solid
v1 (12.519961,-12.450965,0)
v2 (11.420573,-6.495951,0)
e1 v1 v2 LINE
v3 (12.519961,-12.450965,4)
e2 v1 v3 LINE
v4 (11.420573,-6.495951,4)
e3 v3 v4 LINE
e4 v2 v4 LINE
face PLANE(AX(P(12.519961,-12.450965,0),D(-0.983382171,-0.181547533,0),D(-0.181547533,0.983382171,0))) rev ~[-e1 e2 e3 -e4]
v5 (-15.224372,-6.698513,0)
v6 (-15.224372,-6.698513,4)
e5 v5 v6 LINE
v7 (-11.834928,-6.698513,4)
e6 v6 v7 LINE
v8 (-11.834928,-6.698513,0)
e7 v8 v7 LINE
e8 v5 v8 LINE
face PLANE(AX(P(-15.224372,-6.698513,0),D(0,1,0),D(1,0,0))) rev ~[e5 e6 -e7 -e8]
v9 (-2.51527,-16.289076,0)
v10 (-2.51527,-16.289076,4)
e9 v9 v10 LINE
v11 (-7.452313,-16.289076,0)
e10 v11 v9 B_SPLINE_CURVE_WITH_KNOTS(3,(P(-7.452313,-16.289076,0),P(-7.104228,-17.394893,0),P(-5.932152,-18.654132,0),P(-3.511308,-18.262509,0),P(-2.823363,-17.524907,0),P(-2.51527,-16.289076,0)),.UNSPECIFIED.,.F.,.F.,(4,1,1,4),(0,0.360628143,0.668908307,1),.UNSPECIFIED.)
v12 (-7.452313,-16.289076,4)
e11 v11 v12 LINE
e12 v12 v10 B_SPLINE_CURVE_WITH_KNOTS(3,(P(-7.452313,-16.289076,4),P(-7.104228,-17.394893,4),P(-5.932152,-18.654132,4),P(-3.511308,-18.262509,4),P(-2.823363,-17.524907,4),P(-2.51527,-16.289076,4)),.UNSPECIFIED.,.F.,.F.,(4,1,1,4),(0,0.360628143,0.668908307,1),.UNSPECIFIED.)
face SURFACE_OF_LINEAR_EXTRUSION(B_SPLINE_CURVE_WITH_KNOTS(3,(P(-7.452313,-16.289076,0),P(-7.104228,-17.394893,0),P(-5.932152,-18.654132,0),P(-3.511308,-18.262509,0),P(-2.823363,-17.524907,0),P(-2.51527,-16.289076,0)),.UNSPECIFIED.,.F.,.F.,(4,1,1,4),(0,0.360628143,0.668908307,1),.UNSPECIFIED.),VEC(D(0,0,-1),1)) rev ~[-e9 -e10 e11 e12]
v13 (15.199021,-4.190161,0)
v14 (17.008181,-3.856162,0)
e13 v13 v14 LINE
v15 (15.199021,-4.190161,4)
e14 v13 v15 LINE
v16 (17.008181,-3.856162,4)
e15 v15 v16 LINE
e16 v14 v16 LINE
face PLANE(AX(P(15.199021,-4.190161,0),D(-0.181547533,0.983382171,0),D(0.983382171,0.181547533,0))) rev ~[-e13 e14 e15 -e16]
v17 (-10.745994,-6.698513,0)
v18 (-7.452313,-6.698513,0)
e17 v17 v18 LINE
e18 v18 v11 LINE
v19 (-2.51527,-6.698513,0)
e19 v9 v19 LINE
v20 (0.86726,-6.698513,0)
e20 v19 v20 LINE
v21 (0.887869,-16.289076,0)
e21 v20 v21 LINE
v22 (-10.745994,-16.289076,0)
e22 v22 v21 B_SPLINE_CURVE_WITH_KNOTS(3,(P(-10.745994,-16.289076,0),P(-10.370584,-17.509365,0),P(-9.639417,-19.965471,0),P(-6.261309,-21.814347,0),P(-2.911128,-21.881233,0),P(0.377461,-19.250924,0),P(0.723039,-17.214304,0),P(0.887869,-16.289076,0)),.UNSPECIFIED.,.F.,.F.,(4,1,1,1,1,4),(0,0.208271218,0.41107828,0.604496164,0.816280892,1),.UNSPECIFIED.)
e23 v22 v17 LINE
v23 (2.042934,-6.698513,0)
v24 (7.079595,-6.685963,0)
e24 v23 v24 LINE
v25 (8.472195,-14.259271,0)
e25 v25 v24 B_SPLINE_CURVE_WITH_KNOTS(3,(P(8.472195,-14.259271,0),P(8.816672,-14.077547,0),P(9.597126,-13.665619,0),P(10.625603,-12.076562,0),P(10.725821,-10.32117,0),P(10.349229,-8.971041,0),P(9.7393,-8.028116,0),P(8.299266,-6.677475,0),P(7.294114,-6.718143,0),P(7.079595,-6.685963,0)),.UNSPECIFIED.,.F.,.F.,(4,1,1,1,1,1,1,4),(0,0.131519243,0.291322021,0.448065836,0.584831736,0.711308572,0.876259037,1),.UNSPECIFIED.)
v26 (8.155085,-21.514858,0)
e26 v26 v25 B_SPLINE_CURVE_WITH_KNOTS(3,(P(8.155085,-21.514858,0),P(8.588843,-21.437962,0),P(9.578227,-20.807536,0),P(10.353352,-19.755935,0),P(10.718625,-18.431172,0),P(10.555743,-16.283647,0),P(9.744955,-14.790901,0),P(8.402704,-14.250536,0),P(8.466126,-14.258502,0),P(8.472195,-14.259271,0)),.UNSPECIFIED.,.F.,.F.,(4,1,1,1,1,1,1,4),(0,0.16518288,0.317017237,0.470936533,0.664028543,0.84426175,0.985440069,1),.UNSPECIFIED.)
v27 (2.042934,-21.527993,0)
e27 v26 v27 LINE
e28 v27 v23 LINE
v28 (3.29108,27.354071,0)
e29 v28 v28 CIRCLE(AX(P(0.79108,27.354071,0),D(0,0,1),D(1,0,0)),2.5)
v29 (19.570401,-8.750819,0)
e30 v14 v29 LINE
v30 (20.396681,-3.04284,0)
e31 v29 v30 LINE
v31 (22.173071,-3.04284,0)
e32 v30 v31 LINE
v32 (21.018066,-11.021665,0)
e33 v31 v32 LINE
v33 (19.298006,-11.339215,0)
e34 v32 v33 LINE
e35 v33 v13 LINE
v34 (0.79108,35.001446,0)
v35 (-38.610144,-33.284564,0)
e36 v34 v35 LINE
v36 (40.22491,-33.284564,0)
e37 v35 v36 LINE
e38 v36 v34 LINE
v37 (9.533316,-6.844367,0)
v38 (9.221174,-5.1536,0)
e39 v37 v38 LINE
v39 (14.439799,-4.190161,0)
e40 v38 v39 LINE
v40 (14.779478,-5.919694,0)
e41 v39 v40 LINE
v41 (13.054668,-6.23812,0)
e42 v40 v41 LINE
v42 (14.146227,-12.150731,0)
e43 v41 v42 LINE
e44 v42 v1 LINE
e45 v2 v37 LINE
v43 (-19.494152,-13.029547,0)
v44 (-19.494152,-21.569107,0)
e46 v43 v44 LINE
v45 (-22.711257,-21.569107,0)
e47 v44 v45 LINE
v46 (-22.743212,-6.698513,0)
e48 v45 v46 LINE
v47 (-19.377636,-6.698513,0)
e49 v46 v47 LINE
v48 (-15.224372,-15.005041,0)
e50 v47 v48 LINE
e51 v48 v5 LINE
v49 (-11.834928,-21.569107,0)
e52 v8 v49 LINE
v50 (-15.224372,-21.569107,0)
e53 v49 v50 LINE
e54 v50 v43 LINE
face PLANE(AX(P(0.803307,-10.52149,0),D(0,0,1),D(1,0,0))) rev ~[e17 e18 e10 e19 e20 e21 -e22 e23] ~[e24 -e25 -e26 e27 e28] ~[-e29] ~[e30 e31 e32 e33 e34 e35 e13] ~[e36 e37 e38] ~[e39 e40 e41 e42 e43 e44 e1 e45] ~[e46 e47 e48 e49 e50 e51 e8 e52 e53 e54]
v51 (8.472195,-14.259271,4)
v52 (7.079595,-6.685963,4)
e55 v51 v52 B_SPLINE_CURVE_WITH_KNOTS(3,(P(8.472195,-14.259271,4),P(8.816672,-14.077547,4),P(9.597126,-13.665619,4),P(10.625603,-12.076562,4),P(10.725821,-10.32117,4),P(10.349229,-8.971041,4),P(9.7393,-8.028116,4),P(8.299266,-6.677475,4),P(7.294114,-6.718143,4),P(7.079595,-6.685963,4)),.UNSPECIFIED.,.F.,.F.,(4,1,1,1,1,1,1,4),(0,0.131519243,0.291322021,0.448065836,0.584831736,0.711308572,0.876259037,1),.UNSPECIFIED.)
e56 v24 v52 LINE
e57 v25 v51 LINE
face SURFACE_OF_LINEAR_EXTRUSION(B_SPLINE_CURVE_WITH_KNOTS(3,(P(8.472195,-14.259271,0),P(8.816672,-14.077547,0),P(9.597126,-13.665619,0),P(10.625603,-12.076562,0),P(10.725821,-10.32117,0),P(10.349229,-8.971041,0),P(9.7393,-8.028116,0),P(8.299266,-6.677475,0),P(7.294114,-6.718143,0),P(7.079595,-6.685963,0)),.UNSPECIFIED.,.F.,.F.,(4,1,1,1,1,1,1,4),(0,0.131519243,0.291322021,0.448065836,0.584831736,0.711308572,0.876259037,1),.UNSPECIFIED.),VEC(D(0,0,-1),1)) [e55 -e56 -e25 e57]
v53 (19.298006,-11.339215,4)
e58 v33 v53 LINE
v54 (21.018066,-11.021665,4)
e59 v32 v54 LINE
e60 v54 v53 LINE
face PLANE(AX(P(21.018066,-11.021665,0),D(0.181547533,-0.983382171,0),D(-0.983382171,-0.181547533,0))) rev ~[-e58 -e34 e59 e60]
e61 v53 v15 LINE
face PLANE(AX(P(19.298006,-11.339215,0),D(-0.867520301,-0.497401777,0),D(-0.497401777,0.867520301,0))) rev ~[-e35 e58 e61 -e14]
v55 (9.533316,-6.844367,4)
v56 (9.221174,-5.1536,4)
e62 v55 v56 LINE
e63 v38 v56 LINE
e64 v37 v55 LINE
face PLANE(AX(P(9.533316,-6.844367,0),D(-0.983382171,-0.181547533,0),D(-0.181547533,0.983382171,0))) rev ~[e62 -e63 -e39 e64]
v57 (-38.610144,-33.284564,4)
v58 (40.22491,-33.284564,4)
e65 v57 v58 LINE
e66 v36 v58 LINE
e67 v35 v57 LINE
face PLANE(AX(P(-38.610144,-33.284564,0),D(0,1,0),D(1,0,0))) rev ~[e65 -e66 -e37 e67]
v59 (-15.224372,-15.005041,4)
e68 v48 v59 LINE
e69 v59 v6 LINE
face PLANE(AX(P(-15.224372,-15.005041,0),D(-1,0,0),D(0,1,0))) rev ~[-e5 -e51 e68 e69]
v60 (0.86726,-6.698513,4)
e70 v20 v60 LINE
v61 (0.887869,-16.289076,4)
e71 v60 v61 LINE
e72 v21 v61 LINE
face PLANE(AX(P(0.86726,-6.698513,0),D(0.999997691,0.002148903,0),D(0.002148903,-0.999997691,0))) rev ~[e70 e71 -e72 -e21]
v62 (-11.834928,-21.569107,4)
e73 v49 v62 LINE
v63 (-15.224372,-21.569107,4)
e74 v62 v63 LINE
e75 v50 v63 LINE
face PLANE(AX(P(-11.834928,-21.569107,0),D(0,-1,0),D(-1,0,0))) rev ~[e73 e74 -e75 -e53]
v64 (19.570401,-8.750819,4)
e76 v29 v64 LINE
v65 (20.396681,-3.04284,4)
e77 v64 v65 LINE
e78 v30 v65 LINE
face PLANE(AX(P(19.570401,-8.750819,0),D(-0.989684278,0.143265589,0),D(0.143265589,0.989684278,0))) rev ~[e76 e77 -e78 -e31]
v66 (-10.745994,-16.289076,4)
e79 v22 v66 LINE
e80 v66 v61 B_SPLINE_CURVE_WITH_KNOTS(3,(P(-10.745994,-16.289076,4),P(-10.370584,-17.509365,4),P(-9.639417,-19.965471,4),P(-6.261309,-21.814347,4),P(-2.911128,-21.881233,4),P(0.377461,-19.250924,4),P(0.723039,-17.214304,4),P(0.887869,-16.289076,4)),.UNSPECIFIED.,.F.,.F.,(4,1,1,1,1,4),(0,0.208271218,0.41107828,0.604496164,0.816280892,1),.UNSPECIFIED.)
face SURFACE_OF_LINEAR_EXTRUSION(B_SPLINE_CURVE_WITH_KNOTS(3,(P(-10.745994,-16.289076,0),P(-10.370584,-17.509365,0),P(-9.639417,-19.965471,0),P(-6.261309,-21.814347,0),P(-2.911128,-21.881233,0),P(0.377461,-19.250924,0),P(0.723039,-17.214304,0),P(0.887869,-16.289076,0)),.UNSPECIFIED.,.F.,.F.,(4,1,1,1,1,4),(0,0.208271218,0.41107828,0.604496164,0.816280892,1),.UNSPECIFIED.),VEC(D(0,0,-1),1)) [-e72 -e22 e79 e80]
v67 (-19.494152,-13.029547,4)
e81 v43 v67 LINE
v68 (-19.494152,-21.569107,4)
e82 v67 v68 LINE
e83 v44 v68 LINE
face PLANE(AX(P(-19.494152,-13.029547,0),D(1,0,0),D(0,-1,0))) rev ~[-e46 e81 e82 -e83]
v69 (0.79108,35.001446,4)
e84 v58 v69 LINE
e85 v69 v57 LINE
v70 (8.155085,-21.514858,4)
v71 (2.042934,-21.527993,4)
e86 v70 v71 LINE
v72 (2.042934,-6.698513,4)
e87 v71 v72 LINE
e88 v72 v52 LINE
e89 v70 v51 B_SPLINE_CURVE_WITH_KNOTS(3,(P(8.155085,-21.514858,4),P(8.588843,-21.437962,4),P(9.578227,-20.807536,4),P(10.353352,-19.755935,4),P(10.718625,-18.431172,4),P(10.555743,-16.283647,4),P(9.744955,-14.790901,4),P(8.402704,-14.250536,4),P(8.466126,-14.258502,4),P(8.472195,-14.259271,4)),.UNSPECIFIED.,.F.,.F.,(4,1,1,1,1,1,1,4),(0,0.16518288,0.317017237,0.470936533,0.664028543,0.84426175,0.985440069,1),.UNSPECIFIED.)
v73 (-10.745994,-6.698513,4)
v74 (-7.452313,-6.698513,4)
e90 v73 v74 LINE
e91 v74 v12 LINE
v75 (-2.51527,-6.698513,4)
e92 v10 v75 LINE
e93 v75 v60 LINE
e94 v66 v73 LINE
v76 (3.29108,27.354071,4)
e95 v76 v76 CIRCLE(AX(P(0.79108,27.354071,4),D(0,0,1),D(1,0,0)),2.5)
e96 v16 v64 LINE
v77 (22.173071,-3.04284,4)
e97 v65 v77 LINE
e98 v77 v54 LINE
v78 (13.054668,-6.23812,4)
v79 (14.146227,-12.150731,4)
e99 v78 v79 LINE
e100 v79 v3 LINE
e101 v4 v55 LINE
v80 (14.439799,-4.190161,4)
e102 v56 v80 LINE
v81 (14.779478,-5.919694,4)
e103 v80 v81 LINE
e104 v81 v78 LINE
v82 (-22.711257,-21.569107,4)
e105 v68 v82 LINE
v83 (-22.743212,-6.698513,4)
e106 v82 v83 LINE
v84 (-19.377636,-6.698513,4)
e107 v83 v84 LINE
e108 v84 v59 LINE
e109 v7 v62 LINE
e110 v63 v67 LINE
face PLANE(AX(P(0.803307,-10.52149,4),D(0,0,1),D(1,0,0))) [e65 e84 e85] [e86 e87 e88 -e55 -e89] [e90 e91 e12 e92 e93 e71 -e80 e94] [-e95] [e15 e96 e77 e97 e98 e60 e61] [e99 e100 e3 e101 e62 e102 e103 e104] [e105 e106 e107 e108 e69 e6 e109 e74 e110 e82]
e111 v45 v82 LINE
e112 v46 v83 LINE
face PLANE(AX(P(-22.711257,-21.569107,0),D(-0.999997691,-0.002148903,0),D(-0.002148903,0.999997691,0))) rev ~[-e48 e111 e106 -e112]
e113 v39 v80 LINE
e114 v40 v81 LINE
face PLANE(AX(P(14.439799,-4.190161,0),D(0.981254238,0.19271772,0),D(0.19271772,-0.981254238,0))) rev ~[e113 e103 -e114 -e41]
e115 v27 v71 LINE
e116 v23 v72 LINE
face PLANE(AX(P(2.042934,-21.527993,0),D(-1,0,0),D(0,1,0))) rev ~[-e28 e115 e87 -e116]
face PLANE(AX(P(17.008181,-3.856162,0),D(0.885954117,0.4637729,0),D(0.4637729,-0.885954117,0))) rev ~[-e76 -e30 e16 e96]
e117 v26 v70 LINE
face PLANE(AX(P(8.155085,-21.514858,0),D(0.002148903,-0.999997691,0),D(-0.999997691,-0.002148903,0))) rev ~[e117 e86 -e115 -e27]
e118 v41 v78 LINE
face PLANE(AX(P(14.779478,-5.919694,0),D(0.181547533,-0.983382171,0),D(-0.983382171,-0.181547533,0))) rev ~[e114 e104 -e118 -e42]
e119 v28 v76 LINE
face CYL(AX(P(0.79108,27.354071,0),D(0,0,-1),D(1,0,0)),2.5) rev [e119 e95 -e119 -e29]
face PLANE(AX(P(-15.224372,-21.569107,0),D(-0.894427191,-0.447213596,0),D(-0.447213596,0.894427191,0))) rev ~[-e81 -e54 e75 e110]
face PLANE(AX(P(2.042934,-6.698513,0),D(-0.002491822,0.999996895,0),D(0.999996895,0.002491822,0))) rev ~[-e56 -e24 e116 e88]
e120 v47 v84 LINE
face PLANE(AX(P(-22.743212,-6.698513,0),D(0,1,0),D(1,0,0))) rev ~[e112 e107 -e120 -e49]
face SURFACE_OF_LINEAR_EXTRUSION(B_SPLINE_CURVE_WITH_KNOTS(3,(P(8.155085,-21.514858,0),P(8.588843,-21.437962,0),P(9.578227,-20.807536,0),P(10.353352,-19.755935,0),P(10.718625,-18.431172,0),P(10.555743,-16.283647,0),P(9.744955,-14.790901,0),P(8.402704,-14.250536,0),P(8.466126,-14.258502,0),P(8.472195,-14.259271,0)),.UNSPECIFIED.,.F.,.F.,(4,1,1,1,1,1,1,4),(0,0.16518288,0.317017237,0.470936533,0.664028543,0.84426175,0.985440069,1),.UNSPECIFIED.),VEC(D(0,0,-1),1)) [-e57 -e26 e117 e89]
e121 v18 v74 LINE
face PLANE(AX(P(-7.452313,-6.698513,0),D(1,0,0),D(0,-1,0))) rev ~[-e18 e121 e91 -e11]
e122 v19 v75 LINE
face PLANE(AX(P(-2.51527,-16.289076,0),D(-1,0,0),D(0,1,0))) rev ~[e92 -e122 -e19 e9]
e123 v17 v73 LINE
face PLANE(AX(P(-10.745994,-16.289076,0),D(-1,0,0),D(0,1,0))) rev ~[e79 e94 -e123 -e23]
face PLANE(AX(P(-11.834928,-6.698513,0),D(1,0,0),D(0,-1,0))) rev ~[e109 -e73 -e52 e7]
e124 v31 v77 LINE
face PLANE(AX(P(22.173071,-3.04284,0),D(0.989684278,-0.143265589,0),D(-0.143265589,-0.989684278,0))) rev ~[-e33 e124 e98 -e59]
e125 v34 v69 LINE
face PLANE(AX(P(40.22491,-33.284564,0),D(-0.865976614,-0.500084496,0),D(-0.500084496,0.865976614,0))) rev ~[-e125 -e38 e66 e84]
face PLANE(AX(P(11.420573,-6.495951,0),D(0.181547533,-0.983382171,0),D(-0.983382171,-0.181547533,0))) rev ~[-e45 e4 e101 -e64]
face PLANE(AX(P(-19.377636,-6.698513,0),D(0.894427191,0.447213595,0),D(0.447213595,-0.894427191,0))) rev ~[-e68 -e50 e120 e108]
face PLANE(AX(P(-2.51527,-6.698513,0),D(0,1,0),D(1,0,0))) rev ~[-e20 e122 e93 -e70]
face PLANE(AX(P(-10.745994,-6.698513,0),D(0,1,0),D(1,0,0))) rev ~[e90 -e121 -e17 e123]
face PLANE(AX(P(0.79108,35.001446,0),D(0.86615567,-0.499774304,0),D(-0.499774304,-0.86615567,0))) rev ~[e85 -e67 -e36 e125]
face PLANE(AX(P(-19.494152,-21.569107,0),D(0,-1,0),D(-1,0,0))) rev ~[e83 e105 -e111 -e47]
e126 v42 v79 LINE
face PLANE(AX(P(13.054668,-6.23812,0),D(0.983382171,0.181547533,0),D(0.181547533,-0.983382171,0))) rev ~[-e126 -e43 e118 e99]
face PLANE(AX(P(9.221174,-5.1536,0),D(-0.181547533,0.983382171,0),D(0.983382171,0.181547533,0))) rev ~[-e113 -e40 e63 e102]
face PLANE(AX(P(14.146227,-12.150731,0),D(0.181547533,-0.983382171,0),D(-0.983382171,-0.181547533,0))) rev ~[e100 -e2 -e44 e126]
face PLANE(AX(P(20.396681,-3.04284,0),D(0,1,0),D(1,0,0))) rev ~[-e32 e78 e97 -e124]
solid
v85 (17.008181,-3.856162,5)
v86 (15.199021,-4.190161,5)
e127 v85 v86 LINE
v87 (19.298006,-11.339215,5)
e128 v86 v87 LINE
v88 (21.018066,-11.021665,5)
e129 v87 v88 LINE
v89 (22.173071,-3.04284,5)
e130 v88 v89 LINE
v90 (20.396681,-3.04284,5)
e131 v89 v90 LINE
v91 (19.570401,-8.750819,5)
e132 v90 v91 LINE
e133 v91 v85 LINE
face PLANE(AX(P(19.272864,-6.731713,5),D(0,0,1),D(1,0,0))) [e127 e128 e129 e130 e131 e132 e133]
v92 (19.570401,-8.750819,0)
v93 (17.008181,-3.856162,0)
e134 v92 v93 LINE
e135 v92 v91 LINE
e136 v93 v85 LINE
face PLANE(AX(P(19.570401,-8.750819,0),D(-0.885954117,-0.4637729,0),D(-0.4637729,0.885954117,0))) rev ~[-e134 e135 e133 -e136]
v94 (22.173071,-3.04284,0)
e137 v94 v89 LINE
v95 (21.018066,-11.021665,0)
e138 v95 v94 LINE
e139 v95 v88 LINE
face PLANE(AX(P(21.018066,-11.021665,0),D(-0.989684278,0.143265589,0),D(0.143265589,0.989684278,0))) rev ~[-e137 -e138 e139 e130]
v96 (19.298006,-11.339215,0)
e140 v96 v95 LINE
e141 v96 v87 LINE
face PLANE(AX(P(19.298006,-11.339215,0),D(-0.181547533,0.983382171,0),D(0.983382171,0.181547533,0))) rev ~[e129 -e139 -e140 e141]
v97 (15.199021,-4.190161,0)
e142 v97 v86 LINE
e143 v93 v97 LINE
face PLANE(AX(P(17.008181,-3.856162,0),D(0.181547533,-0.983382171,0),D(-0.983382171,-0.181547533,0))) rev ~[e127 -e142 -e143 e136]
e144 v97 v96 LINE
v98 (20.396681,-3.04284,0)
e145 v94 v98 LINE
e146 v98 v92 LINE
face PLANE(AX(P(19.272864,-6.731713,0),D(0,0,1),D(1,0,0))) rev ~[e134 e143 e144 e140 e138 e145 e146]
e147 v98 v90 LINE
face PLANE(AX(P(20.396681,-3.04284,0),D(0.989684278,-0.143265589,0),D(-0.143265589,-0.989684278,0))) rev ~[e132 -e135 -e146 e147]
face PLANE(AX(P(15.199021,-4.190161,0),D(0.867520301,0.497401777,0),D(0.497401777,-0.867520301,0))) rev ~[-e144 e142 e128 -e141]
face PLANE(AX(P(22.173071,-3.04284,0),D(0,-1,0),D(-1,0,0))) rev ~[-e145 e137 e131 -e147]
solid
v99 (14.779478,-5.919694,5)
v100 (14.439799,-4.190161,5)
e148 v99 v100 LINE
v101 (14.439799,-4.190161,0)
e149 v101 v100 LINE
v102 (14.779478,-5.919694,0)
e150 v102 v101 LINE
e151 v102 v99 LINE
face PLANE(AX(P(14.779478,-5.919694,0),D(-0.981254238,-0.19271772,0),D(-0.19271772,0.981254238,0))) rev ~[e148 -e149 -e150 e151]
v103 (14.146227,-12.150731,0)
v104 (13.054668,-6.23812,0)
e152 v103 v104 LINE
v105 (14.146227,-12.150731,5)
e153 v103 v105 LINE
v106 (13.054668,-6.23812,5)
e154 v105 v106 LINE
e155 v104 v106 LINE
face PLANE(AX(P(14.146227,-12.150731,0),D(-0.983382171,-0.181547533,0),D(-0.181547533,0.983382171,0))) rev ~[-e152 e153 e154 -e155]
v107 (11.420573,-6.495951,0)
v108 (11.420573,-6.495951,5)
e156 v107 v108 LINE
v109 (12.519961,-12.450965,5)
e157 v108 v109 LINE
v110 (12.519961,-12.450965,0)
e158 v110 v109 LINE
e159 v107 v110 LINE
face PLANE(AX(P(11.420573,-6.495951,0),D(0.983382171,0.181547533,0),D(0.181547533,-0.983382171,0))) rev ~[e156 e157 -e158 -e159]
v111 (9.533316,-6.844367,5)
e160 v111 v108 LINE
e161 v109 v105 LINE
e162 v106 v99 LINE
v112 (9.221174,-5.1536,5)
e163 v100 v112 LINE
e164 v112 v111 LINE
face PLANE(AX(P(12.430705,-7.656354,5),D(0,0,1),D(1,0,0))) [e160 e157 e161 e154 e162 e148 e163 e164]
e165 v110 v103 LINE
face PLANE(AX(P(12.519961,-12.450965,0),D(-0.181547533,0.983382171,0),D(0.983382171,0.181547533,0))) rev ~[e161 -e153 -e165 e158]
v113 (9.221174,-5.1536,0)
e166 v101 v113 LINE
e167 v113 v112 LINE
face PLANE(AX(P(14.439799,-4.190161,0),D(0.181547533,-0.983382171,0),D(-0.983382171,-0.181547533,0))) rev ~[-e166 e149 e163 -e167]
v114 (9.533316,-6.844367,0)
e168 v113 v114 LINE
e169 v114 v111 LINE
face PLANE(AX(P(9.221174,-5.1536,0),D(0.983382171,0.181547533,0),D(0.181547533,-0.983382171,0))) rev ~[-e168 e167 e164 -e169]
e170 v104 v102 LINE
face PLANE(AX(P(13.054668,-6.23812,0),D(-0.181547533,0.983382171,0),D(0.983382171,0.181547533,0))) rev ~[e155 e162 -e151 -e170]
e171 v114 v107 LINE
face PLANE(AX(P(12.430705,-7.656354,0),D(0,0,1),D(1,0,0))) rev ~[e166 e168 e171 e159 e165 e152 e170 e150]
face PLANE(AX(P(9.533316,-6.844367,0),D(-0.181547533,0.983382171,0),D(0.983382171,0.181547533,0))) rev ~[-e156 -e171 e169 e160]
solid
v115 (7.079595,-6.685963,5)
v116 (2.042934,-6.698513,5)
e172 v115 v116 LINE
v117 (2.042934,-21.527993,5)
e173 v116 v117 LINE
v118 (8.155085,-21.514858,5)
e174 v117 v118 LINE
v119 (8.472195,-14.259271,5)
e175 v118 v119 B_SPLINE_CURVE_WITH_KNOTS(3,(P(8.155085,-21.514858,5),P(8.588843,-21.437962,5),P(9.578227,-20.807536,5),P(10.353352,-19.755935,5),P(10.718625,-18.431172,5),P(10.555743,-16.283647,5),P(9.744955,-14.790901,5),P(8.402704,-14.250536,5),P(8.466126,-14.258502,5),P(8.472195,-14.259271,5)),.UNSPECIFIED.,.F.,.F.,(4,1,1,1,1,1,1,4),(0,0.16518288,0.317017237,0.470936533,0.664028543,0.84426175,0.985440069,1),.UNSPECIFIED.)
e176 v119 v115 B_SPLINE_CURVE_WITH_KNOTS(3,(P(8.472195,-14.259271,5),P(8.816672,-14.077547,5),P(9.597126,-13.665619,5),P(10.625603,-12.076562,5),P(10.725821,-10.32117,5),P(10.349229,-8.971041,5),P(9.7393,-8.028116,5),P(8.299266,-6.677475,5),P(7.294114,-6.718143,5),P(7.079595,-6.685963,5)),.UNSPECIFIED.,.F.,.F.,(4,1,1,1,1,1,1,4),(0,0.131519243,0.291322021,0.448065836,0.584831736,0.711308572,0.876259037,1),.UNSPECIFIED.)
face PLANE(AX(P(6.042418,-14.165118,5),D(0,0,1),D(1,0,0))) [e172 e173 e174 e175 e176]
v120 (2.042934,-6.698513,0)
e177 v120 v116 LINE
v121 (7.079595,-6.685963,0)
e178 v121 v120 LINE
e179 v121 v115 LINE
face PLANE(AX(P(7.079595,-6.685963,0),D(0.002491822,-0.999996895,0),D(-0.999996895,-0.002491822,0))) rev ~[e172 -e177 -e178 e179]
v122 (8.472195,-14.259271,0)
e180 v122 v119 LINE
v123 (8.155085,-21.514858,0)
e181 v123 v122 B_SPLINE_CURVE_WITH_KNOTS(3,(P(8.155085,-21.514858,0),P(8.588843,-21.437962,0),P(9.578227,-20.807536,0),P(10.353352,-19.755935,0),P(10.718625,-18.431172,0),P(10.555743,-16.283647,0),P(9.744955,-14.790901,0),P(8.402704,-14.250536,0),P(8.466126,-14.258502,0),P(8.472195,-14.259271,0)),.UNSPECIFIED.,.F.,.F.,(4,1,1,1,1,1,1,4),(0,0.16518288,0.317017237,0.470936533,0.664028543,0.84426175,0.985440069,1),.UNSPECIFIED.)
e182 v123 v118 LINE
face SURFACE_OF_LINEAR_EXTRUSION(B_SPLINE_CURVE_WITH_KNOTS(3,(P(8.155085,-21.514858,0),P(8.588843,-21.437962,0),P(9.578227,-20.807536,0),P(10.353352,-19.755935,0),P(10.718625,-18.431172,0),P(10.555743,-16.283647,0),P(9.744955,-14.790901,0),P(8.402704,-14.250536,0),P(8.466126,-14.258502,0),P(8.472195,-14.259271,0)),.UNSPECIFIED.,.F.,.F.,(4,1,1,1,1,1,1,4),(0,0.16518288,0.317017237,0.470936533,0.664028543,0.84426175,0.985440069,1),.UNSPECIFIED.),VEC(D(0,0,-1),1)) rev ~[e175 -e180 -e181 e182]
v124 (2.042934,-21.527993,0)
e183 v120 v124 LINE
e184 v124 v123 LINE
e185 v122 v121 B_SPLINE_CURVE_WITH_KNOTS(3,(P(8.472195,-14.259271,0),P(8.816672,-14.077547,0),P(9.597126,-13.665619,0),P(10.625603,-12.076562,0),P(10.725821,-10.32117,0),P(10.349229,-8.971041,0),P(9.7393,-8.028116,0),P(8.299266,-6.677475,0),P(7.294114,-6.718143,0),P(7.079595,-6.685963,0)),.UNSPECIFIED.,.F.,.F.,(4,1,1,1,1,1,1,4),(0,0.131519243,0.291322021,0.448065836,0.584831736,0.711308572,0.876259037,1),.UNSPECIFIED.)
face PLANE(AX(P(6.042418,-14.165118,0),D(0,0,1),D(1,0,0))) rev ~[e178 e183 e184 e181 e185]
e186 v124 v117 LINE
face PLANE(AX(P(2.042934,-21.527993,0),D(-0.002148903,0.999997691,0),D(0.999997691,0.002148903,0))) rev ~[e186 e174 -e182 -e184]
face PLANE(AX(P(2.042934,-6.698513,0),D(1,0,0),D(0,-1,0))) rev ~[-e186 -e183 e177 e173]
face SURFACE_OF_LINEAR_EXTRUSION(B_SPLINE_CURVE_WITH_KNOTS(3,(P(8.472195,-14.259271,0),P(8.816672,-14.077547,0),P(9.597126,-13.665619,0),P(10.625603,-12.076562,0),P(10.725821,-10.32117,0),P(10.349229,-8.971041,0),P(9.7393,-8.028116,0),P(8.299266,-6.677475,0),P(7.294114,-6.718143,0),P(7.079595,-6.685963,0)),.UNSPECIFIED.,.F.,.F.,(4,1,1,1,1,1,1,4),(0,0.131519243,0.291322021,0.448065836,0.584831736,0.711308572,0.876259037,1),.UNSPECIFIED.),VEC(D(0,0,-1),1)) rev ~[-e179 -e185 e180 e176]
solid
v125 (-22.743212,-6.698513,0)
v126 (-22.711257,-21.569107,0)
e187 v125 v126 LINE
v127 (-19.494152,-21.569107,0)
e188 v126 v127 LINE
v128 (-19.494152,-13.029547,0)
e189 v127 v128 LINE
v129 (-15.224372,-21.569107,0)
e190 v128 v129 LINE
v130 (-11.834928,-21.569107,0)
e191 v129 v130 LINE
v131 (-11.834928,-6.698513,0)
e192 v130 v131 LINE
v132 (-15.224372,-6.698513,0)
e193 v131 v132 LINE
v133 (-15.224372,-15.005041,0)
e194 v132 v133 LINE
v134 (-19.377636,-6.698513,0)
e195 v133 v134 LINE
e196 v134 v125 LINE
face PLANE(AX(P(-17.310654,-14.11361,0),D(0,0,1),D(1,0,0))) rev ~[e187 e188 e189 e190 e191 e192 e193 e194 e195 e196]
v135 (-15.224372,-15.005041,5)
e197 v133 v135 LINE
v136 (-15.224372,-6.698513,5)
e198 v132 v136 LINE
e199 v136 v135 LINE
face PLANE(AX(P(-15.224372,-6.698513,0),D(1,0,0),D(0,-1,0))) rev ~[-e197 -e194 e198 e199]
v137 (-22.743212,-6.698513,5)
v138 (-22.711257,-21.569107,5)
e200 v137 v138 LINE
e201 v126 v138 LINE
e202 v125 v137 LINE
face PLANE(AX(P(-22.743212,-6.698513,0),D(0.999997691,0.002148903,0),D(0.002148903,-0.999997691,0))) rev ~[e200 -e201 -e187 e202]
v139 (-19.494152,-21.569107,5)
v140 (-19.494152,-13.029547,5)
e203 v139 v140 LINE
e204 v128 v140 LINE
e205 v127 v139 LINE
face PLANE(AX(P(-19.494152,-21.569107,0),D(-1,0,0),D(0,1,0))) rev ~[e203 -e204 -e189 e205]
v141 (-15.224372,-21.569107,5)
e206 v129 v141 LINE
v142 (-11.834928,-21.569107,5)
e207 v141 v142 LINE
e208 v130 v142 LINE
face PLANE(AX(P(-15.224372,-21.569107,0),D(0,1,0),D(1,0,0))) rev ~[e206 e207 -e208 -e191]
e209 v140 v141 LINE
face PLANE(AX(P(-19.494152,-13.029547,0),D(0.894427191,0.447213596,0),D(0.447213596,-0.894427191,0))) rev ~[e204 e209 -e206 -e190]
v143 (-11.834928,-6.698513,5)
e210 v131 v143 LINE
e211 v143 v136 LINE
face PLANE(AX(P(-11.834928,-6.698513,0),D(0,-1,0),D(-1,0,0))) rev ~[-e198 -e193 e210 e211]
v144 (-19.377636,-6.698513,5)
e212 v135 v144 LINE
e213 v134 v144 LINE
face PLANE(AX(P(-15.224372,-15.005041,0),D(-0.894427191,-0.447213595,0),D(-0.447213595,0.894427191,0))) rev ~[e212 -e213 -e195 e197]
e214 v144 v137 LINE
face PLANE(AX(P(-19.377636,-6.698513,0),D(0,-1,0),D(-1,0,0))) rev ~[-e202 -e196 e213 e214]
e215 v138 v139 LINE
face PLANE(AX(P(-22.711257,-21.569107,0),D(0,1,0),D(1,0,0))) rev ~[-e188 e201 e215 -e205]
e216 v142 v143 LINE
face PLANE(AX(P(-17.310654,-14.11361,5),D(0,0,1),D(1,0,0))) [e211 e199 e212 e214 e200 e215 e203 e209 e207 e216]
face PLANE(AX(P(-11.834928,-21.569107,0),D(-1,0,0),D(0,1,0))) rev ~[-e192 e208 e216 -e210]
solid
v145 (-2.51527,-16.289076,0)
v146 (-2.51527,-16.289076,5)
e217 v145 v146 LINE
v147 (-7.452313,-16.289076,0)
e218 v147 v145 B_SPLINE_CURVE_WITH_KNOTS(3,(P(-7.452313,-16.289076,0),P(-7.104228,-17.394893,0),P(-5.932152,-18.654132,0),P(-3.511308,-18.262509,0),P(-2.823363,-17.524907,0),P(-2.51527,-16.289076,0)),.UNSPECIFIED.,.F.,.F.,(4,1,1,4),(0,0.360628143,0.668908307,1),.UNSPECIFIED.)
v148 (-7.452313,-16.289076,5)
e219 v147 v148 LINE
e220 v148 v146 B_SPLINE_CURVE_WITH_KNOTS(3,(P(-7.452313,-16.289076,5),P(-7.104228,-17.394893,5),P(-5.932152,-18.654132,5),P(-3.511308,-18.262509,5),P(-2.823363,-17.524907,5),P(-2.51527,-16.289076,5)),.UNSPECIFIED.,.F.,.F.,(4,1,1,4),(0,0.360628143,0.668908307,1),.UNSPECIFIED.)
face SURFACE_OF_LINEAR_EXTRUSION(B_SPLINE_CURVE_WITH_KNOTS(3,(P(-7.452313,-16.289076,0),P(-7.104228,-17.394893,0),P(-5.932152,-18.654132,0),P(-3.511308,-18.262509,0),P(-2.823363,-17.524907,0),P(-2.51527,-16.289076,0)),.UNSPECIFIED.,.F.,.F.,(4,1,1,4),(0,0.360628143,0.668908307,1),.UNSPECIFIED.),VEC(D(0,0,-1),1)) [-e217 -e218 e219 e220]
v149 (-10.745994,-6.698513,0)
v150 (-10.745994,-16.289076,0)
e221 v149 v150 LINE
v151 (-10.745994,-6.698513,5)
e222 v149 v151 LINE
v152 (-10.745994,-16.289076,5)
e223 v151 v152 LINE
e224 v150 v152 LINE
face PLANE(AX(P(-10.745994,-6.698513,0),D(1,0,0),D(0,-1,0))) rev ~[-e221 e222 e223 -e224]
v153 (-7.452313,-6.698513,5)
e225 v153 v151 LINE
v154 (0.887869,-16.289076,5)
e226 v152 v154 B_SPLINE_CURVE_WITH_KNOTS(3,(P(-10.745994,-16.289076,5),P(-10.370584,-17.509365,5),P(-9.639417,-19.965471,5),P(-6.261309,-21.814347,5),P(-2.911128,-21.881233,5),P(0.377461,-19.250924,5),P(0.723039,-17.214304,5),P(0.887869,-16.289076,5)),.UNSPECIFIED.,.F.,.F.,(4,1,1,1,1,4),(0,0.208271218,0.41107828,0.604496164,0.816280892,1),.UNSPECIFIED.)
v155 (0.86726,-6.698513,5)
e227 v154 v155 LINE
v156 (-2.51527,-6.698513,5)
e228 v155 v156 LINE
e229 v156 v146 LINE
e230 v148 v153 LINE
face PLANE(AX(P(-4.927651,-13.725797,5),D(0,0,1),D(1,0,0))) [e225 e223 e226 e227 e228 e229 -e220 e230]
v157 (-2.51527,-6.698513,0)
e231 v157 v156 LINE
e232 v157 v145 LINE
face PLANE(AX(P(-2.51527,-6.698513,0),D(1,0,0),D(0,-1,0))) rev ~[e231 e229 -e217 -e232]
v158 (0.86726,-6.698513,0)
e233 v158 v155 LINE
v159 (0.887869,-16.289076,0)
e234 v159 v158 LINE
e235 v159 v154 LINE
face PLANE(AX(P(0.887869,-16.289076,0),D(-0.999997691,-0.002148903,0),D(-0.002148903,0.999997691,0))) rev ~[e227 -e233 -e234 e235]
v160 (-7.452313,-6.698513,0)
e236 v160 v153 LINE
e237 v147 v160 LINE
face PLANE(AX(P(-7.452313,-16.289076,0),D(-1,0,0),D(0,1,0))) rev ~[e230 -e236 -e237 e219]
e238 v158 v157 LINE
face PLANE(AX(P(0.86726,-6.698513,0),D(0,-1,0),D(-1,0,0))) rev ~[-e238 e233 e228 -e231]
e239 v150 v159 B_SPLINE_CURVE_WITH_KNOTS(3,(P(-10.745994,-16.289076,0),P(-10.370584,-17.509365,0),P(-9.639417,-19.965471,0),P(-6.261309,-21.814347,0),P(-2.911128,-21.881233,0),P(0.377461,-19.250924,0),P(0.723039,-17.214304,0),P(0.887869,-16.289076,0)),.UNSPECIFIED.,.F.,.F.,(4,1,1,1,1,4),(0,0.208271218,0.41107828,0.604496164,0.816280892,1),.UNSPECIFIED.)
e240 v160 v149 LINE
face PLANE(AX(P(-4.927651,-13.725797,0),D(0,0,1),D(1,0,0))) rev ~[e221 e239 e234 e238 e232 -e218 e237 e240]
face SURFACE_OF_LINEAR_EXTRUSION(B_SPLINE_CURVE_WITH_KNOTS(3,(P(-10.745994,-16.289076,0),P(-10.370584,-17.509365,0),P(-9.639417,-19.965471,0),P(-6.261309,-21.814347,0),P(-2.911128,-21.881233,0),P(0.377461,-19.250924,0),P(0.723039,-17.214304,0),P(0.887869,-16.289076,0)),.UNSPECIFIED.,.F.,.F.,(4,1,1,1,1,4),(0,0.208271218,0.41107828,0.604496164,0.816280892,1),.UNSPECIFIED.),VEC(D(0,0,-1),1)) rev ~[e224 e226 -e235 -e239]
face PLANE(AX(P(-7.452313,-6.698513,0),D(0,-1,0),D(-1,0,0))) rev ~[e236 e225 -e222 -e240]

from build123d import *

# Parameters (mm, degrees)
F0_R     = 2.5
F1_DEPTH = 4
F2_DEPTH = 5


with BuildPart() as f1:
    # F0 (on Top) → F1 (new body)
    with BuildSketch(Plane.XY):
        Polygon((40.2249097824, -33.2845642026), (0.7910795393, 35.0014455616), (-38.6101437698, -33.2845642026), align=None)
        Polygon((-22.711256519, -21.5691067278), (-22.7432120591, -6.6985134035), (-19.3776357919, -6.6985134035), (-15.2243720368, -15.0050409138), (-15.2243720368, -6.6985134035), (-11.8349278346, -6.6985134035), (-11.8349278346, -21.5691067278), (-15.2243720368, -21.5691067278), (-19.4941520691, -13.0295466632), (-19.4941520691, -21.5691067278), align=None, mode=Mode.SUBTRACT)
        with BuildLine():
            Line((-10.7459938154, -16.2890758365), (-10.7459938154, -6.6985134035))
            Line((-10.7459938154, -6.6985134035), (-7.4523133226, -6.6985134035))
            Line((-7.4523133226, -6.6985134035), (-7.4523133226, -16.2890758365))
            add(Edge.make_bspline(
                [(-7.4523133226, -16.2890758365), (-7.104227785, -17.3948928714), (-5.9321515736, -18.6541323706), (-3.5113082752, -18.2625094616), (-2.8233632911, -17.5249073654), (-2.5152703747, -16.2890758365)],
                knots=[0, 0, 0, 0, 0.3606281433, 0.6689083068, 1, 1, 1, 1], degree=3))
            Line((-2.5152703747, -16.2890758365), (-2.5152703747, -6.6985134035))
            Line((-2.5152703747, -6.6985134035), (0.8672598962, -6.6985134035))
            Line((0.8672598962, -6.6985134035), (0.8878691346, -16.2890758365))
            add(Edge.make_bspline(
                [(-10.7459938154, -16.2890758365), (-10.3705837507, -17.509364821), (-9.6394174556, -19.9654712701), (-6.2613093559, -21.814346697), (-2.9111281737, -21.881232593), (0.377460507, -19.2509243312), (0.7230390529, -17.2143038611), (0.8878691346, -16.2890758365)],
                knots=[0, 0, 0, 0, 0.2082712182, 0.4110782797, 0.6044961637, 0.8162808924, 1, 1, 1, 1], degree=3))
        make_face(mode=Mode.SUBTRACT)
        with BuildLine():
            Line((2.0429338329, -21.5279925615), (2.0429338329, -6.6985134035))
            Line((2.0429338329, -6.6985134035), (7.0795952342, -6.6859629005))
            add(Edge.make_bspline(
                [(8.4721948951, -14.2592713237), (8.8166718167, -14.0775473446), (9.597126329, -13.6656191693), (10.625602672, -12.0765617302), (10.725820643, -10.3211699754), (10.3492292442, -8.971041011), (9.739299995, -8.0281158452), (8.29926641, -6.6774752044), (7.2941144713, -6.7181425698), (7.0795952342, -6.6859629005)],
                knots=[0, 0, 0, 0, 0.1315192433, 0.2913220213, 0.4480658363, 0.5848317356, 0.7113085718, 0.8762590374, 1, 1, 1, 1], degree=3))
            add(Edge.make_bspline(
                [(8.1550851464, -21.5148581093), (8.5888431896, -21.4379623141), (9.5782273725, -20.807535605), (10.3533522247, -19.7559345188), (10.7186253304, -18.4311716851), (10.5557425558, -16.283646946), (9.7449551739, -14.7909007915), (8.402703745, -14.2505356974), (8.4661261596, -14.2585018978), (8.4721948951, -14.2592713237)],
                knots=[0, 0, 0, 0, 0.1651828804, 0.3170172375, 0.4709365332, 0.6640285426, 0.8442617499, 0.9854400695, 1, 1, 1, 1], degree=3))
            Line((8.1550851464, -21.5148581093), (2.0429338329, -21.5279925615))
        make_face(mode=Mode.SUBTRACT)
        Polygon((9.2211738229, -5.1535996608), (14.4397988915, -4.1901608929), (14.7794780436, -5.9196936403), (13.0546678668, -6.2381202315), (14.1462272019, -12.1507314943), (12.5199611083, -12.4509653262), (11.4205734342, -6.4959505735), (9.5333156725, -6.8443674972), align=None, mode=Mode.SUBTRACT)
        Polygon((20.3966814885, -3.0428403988), (22.1730712801, -3.0428403988), (21.0180655122, -11.0216652974), (19.2980058122, -11.3392148773), (15.1990214363, -4.1901608929), (17.0081812404, -3.856162058), (19.5704009384, -8.7508186698), align=None, mode=Mode.SUBTRACT)
        with Locations((0.7910795393, 27.3540709168)):
            Circle(F0_R, mode=Mode.SUBTRACT)
    extrude(amount=F1_DEPTH)


with BuildPart() as f2:
    # F0 (on Top) → F2 (new body)
    with BuildSketch(Plane.XY):
        Polygon((-19.3776357919, -6.6985134035), (-22.7432120591, -6.6985134035), (-22.711256519, -21.5691067278), (-19.4941520691, -21.5691067278), (-19.4941520691, -13.0295466632), (-15.2243720368, -21.5691067278), (-11.8349278346, -21.5691067278), (-11.8349278346, -6.6985134035), (-15.2243720368, -6.6985134035), (-15.2243720368, -15.0050409138), align=None)
    extrude(amount=F2_DEPTH)


with BuildPart() as f2b:
    # F0 (on Top) → F2, piece 2 (new body)
    with BuildSketch(Plane.XY):
        with BuildLine():
            Line((-7.4523133226, -6.6985134035), (-10.7459938154, -6.6985134035))
            Line((-10.7459938154, -6.6985134035), (-10.7459938154, -16.2890758365))
            add(Edge.make_bspline(
                [(-10.7459938154, -16.2890758365), (-10.3705837507, -17.509364821), (-9.6394174556, -19.9654712701), (-6.2613093559, -21.814346697), (-2.9111281737, -21.881232593), (0.377460507, -19.2509243312), (0.7230390529, -17.2143038611), (0.8878691346, -16.2890758365)],
                knots=[0, 0, 0, 0, 0.2082712182, 0.4110782797, 0.6044961637, 0.8162808924, 1, 1, 1, 1], degree=3))
            Line((0.8878691346, -16.2890758365), (0.8672598962, -6.6985134035))
            Line((0.8672598962, -6.6985134035), (-2.5152703747, -6.6985134035))
            Line((-2.5152703747, -6.6985134035), (-2.5152703747, -16.2890758365))
            add(Edge.make_bspline(
                [(-7.4523133226, -16.2890758365), (-7.104227785, -17.3948928714), (-5.9321515736, -18.6541323706), (-3.5113082752, -18.2625094616), (-2.8233632911, -17.5249073654), (-2.5152703747, -16.2890758365)],
                knots=[0, 0, 0, 0, 0.3606281433, 0.6689083068, 1, 1, 1, 1], degree=3))
            Line((-7.4523133226, -16.2890758365), (-7.4523133226, -6.6985134035))
        make_face()
    extrude(amount=F2_DEPTH)


with BuildPart() as f2c:
    # F0 (on Top) → F2, piece 3 (new body)
    with BuildSketch(Plane.XY):
        with BuildLine():
            Line((7.0795952342, -6.6859629005), (2.0429338329, -6.6985134035))
            Line((2.0429338329, -6.6985134035), (2.0429338329, -21.5279925615))
            Line((2.0429338329, -21.5279925615), (8.1550851464, -21.5148581093))
            add(Edge.make_bspline(
                [(8.1550851464, -21.5148581093), (8.5888431896, -21.4379623141), (9.5782273725, -20.807535605), (10.3533522247, -19.7559345188), (10.7186253304, -18.4311716851), (10.5557425558, -16.283646946), (9.7449551739, -14.7909007915), (8.402703745, -14.2505356974), (8.4661261596, -14.2585018978), (8.4721948951, -14.2592713237)],
                knots=[0, 0, 0, 0, 0.1651828804, 0.3170172375, 0.4709365332, 0.6640285426, 0.8442617499, 0.9854400695, 1, 1, 1, 1], degree=3))
            add(Edge.make_bspline(
                [(8.4721948951, -14.2592713237), (8.8166718167, -14.0775473446), (9.597126329, -13.6656191693), (10.625602672, -12.0765617302), (10.725820643, -10.3211699754), (10.3492292442, -8.971041011), (9.739299995, -8.0281158452), (8.29926641, -6.6774752044), (7.2941144713, -6.7181425698), (7.0795952342, -6.6859629005)],
                knots=[0, 0, 0, 0, 0.1315192433, 0.2913220213, 0.4480658363, 0.5848317356, 0.7113085718, 0.8762590374, 1, 1, 1, 1], degree=3))
        make_face()
    extrude(amount=F2_DEPTH)


with BuildPart() as f2d:
    # F0 (on Top) → F2, piece 4 (new body)
    with BuildSketch(Plane.XY):
        Polygon((14.7794780436, -5.9196936403), (14.4397988915, -4.1901608929), (9.2211738229, -5.1535996608), (9.5333156725, -6.8443674972), (11.4205734342, -6.4959505735), (12.5199611083, -12.4509653262), (14.1462272019, -12.1507314943), (13.0546678668, -6.2381202315), align=None)
    extrude(amount=F2_DEPTH)


with BuildPart() as f2e:
    # F0 (on Top) → F2, piece 5 (new body)
    with BuildSketch(Plane.XY):
        Polygon((21.0180655122, -11.0216652974), (22.1730712801, -3.0428403988), (20.3966814885, -3.0428403988), (19.5704009384, -8.7508186698), (17.0081812404, -3.856162058), (15.1990214363, -4.1901608929), (19.2980058122, -11.3392148773), align=None)
    extrude(amount=F2_DEPTH)


solid = Compound([f1.part, f2.part, f2b.part, f2c.part, f2d.part, f2e.part])
